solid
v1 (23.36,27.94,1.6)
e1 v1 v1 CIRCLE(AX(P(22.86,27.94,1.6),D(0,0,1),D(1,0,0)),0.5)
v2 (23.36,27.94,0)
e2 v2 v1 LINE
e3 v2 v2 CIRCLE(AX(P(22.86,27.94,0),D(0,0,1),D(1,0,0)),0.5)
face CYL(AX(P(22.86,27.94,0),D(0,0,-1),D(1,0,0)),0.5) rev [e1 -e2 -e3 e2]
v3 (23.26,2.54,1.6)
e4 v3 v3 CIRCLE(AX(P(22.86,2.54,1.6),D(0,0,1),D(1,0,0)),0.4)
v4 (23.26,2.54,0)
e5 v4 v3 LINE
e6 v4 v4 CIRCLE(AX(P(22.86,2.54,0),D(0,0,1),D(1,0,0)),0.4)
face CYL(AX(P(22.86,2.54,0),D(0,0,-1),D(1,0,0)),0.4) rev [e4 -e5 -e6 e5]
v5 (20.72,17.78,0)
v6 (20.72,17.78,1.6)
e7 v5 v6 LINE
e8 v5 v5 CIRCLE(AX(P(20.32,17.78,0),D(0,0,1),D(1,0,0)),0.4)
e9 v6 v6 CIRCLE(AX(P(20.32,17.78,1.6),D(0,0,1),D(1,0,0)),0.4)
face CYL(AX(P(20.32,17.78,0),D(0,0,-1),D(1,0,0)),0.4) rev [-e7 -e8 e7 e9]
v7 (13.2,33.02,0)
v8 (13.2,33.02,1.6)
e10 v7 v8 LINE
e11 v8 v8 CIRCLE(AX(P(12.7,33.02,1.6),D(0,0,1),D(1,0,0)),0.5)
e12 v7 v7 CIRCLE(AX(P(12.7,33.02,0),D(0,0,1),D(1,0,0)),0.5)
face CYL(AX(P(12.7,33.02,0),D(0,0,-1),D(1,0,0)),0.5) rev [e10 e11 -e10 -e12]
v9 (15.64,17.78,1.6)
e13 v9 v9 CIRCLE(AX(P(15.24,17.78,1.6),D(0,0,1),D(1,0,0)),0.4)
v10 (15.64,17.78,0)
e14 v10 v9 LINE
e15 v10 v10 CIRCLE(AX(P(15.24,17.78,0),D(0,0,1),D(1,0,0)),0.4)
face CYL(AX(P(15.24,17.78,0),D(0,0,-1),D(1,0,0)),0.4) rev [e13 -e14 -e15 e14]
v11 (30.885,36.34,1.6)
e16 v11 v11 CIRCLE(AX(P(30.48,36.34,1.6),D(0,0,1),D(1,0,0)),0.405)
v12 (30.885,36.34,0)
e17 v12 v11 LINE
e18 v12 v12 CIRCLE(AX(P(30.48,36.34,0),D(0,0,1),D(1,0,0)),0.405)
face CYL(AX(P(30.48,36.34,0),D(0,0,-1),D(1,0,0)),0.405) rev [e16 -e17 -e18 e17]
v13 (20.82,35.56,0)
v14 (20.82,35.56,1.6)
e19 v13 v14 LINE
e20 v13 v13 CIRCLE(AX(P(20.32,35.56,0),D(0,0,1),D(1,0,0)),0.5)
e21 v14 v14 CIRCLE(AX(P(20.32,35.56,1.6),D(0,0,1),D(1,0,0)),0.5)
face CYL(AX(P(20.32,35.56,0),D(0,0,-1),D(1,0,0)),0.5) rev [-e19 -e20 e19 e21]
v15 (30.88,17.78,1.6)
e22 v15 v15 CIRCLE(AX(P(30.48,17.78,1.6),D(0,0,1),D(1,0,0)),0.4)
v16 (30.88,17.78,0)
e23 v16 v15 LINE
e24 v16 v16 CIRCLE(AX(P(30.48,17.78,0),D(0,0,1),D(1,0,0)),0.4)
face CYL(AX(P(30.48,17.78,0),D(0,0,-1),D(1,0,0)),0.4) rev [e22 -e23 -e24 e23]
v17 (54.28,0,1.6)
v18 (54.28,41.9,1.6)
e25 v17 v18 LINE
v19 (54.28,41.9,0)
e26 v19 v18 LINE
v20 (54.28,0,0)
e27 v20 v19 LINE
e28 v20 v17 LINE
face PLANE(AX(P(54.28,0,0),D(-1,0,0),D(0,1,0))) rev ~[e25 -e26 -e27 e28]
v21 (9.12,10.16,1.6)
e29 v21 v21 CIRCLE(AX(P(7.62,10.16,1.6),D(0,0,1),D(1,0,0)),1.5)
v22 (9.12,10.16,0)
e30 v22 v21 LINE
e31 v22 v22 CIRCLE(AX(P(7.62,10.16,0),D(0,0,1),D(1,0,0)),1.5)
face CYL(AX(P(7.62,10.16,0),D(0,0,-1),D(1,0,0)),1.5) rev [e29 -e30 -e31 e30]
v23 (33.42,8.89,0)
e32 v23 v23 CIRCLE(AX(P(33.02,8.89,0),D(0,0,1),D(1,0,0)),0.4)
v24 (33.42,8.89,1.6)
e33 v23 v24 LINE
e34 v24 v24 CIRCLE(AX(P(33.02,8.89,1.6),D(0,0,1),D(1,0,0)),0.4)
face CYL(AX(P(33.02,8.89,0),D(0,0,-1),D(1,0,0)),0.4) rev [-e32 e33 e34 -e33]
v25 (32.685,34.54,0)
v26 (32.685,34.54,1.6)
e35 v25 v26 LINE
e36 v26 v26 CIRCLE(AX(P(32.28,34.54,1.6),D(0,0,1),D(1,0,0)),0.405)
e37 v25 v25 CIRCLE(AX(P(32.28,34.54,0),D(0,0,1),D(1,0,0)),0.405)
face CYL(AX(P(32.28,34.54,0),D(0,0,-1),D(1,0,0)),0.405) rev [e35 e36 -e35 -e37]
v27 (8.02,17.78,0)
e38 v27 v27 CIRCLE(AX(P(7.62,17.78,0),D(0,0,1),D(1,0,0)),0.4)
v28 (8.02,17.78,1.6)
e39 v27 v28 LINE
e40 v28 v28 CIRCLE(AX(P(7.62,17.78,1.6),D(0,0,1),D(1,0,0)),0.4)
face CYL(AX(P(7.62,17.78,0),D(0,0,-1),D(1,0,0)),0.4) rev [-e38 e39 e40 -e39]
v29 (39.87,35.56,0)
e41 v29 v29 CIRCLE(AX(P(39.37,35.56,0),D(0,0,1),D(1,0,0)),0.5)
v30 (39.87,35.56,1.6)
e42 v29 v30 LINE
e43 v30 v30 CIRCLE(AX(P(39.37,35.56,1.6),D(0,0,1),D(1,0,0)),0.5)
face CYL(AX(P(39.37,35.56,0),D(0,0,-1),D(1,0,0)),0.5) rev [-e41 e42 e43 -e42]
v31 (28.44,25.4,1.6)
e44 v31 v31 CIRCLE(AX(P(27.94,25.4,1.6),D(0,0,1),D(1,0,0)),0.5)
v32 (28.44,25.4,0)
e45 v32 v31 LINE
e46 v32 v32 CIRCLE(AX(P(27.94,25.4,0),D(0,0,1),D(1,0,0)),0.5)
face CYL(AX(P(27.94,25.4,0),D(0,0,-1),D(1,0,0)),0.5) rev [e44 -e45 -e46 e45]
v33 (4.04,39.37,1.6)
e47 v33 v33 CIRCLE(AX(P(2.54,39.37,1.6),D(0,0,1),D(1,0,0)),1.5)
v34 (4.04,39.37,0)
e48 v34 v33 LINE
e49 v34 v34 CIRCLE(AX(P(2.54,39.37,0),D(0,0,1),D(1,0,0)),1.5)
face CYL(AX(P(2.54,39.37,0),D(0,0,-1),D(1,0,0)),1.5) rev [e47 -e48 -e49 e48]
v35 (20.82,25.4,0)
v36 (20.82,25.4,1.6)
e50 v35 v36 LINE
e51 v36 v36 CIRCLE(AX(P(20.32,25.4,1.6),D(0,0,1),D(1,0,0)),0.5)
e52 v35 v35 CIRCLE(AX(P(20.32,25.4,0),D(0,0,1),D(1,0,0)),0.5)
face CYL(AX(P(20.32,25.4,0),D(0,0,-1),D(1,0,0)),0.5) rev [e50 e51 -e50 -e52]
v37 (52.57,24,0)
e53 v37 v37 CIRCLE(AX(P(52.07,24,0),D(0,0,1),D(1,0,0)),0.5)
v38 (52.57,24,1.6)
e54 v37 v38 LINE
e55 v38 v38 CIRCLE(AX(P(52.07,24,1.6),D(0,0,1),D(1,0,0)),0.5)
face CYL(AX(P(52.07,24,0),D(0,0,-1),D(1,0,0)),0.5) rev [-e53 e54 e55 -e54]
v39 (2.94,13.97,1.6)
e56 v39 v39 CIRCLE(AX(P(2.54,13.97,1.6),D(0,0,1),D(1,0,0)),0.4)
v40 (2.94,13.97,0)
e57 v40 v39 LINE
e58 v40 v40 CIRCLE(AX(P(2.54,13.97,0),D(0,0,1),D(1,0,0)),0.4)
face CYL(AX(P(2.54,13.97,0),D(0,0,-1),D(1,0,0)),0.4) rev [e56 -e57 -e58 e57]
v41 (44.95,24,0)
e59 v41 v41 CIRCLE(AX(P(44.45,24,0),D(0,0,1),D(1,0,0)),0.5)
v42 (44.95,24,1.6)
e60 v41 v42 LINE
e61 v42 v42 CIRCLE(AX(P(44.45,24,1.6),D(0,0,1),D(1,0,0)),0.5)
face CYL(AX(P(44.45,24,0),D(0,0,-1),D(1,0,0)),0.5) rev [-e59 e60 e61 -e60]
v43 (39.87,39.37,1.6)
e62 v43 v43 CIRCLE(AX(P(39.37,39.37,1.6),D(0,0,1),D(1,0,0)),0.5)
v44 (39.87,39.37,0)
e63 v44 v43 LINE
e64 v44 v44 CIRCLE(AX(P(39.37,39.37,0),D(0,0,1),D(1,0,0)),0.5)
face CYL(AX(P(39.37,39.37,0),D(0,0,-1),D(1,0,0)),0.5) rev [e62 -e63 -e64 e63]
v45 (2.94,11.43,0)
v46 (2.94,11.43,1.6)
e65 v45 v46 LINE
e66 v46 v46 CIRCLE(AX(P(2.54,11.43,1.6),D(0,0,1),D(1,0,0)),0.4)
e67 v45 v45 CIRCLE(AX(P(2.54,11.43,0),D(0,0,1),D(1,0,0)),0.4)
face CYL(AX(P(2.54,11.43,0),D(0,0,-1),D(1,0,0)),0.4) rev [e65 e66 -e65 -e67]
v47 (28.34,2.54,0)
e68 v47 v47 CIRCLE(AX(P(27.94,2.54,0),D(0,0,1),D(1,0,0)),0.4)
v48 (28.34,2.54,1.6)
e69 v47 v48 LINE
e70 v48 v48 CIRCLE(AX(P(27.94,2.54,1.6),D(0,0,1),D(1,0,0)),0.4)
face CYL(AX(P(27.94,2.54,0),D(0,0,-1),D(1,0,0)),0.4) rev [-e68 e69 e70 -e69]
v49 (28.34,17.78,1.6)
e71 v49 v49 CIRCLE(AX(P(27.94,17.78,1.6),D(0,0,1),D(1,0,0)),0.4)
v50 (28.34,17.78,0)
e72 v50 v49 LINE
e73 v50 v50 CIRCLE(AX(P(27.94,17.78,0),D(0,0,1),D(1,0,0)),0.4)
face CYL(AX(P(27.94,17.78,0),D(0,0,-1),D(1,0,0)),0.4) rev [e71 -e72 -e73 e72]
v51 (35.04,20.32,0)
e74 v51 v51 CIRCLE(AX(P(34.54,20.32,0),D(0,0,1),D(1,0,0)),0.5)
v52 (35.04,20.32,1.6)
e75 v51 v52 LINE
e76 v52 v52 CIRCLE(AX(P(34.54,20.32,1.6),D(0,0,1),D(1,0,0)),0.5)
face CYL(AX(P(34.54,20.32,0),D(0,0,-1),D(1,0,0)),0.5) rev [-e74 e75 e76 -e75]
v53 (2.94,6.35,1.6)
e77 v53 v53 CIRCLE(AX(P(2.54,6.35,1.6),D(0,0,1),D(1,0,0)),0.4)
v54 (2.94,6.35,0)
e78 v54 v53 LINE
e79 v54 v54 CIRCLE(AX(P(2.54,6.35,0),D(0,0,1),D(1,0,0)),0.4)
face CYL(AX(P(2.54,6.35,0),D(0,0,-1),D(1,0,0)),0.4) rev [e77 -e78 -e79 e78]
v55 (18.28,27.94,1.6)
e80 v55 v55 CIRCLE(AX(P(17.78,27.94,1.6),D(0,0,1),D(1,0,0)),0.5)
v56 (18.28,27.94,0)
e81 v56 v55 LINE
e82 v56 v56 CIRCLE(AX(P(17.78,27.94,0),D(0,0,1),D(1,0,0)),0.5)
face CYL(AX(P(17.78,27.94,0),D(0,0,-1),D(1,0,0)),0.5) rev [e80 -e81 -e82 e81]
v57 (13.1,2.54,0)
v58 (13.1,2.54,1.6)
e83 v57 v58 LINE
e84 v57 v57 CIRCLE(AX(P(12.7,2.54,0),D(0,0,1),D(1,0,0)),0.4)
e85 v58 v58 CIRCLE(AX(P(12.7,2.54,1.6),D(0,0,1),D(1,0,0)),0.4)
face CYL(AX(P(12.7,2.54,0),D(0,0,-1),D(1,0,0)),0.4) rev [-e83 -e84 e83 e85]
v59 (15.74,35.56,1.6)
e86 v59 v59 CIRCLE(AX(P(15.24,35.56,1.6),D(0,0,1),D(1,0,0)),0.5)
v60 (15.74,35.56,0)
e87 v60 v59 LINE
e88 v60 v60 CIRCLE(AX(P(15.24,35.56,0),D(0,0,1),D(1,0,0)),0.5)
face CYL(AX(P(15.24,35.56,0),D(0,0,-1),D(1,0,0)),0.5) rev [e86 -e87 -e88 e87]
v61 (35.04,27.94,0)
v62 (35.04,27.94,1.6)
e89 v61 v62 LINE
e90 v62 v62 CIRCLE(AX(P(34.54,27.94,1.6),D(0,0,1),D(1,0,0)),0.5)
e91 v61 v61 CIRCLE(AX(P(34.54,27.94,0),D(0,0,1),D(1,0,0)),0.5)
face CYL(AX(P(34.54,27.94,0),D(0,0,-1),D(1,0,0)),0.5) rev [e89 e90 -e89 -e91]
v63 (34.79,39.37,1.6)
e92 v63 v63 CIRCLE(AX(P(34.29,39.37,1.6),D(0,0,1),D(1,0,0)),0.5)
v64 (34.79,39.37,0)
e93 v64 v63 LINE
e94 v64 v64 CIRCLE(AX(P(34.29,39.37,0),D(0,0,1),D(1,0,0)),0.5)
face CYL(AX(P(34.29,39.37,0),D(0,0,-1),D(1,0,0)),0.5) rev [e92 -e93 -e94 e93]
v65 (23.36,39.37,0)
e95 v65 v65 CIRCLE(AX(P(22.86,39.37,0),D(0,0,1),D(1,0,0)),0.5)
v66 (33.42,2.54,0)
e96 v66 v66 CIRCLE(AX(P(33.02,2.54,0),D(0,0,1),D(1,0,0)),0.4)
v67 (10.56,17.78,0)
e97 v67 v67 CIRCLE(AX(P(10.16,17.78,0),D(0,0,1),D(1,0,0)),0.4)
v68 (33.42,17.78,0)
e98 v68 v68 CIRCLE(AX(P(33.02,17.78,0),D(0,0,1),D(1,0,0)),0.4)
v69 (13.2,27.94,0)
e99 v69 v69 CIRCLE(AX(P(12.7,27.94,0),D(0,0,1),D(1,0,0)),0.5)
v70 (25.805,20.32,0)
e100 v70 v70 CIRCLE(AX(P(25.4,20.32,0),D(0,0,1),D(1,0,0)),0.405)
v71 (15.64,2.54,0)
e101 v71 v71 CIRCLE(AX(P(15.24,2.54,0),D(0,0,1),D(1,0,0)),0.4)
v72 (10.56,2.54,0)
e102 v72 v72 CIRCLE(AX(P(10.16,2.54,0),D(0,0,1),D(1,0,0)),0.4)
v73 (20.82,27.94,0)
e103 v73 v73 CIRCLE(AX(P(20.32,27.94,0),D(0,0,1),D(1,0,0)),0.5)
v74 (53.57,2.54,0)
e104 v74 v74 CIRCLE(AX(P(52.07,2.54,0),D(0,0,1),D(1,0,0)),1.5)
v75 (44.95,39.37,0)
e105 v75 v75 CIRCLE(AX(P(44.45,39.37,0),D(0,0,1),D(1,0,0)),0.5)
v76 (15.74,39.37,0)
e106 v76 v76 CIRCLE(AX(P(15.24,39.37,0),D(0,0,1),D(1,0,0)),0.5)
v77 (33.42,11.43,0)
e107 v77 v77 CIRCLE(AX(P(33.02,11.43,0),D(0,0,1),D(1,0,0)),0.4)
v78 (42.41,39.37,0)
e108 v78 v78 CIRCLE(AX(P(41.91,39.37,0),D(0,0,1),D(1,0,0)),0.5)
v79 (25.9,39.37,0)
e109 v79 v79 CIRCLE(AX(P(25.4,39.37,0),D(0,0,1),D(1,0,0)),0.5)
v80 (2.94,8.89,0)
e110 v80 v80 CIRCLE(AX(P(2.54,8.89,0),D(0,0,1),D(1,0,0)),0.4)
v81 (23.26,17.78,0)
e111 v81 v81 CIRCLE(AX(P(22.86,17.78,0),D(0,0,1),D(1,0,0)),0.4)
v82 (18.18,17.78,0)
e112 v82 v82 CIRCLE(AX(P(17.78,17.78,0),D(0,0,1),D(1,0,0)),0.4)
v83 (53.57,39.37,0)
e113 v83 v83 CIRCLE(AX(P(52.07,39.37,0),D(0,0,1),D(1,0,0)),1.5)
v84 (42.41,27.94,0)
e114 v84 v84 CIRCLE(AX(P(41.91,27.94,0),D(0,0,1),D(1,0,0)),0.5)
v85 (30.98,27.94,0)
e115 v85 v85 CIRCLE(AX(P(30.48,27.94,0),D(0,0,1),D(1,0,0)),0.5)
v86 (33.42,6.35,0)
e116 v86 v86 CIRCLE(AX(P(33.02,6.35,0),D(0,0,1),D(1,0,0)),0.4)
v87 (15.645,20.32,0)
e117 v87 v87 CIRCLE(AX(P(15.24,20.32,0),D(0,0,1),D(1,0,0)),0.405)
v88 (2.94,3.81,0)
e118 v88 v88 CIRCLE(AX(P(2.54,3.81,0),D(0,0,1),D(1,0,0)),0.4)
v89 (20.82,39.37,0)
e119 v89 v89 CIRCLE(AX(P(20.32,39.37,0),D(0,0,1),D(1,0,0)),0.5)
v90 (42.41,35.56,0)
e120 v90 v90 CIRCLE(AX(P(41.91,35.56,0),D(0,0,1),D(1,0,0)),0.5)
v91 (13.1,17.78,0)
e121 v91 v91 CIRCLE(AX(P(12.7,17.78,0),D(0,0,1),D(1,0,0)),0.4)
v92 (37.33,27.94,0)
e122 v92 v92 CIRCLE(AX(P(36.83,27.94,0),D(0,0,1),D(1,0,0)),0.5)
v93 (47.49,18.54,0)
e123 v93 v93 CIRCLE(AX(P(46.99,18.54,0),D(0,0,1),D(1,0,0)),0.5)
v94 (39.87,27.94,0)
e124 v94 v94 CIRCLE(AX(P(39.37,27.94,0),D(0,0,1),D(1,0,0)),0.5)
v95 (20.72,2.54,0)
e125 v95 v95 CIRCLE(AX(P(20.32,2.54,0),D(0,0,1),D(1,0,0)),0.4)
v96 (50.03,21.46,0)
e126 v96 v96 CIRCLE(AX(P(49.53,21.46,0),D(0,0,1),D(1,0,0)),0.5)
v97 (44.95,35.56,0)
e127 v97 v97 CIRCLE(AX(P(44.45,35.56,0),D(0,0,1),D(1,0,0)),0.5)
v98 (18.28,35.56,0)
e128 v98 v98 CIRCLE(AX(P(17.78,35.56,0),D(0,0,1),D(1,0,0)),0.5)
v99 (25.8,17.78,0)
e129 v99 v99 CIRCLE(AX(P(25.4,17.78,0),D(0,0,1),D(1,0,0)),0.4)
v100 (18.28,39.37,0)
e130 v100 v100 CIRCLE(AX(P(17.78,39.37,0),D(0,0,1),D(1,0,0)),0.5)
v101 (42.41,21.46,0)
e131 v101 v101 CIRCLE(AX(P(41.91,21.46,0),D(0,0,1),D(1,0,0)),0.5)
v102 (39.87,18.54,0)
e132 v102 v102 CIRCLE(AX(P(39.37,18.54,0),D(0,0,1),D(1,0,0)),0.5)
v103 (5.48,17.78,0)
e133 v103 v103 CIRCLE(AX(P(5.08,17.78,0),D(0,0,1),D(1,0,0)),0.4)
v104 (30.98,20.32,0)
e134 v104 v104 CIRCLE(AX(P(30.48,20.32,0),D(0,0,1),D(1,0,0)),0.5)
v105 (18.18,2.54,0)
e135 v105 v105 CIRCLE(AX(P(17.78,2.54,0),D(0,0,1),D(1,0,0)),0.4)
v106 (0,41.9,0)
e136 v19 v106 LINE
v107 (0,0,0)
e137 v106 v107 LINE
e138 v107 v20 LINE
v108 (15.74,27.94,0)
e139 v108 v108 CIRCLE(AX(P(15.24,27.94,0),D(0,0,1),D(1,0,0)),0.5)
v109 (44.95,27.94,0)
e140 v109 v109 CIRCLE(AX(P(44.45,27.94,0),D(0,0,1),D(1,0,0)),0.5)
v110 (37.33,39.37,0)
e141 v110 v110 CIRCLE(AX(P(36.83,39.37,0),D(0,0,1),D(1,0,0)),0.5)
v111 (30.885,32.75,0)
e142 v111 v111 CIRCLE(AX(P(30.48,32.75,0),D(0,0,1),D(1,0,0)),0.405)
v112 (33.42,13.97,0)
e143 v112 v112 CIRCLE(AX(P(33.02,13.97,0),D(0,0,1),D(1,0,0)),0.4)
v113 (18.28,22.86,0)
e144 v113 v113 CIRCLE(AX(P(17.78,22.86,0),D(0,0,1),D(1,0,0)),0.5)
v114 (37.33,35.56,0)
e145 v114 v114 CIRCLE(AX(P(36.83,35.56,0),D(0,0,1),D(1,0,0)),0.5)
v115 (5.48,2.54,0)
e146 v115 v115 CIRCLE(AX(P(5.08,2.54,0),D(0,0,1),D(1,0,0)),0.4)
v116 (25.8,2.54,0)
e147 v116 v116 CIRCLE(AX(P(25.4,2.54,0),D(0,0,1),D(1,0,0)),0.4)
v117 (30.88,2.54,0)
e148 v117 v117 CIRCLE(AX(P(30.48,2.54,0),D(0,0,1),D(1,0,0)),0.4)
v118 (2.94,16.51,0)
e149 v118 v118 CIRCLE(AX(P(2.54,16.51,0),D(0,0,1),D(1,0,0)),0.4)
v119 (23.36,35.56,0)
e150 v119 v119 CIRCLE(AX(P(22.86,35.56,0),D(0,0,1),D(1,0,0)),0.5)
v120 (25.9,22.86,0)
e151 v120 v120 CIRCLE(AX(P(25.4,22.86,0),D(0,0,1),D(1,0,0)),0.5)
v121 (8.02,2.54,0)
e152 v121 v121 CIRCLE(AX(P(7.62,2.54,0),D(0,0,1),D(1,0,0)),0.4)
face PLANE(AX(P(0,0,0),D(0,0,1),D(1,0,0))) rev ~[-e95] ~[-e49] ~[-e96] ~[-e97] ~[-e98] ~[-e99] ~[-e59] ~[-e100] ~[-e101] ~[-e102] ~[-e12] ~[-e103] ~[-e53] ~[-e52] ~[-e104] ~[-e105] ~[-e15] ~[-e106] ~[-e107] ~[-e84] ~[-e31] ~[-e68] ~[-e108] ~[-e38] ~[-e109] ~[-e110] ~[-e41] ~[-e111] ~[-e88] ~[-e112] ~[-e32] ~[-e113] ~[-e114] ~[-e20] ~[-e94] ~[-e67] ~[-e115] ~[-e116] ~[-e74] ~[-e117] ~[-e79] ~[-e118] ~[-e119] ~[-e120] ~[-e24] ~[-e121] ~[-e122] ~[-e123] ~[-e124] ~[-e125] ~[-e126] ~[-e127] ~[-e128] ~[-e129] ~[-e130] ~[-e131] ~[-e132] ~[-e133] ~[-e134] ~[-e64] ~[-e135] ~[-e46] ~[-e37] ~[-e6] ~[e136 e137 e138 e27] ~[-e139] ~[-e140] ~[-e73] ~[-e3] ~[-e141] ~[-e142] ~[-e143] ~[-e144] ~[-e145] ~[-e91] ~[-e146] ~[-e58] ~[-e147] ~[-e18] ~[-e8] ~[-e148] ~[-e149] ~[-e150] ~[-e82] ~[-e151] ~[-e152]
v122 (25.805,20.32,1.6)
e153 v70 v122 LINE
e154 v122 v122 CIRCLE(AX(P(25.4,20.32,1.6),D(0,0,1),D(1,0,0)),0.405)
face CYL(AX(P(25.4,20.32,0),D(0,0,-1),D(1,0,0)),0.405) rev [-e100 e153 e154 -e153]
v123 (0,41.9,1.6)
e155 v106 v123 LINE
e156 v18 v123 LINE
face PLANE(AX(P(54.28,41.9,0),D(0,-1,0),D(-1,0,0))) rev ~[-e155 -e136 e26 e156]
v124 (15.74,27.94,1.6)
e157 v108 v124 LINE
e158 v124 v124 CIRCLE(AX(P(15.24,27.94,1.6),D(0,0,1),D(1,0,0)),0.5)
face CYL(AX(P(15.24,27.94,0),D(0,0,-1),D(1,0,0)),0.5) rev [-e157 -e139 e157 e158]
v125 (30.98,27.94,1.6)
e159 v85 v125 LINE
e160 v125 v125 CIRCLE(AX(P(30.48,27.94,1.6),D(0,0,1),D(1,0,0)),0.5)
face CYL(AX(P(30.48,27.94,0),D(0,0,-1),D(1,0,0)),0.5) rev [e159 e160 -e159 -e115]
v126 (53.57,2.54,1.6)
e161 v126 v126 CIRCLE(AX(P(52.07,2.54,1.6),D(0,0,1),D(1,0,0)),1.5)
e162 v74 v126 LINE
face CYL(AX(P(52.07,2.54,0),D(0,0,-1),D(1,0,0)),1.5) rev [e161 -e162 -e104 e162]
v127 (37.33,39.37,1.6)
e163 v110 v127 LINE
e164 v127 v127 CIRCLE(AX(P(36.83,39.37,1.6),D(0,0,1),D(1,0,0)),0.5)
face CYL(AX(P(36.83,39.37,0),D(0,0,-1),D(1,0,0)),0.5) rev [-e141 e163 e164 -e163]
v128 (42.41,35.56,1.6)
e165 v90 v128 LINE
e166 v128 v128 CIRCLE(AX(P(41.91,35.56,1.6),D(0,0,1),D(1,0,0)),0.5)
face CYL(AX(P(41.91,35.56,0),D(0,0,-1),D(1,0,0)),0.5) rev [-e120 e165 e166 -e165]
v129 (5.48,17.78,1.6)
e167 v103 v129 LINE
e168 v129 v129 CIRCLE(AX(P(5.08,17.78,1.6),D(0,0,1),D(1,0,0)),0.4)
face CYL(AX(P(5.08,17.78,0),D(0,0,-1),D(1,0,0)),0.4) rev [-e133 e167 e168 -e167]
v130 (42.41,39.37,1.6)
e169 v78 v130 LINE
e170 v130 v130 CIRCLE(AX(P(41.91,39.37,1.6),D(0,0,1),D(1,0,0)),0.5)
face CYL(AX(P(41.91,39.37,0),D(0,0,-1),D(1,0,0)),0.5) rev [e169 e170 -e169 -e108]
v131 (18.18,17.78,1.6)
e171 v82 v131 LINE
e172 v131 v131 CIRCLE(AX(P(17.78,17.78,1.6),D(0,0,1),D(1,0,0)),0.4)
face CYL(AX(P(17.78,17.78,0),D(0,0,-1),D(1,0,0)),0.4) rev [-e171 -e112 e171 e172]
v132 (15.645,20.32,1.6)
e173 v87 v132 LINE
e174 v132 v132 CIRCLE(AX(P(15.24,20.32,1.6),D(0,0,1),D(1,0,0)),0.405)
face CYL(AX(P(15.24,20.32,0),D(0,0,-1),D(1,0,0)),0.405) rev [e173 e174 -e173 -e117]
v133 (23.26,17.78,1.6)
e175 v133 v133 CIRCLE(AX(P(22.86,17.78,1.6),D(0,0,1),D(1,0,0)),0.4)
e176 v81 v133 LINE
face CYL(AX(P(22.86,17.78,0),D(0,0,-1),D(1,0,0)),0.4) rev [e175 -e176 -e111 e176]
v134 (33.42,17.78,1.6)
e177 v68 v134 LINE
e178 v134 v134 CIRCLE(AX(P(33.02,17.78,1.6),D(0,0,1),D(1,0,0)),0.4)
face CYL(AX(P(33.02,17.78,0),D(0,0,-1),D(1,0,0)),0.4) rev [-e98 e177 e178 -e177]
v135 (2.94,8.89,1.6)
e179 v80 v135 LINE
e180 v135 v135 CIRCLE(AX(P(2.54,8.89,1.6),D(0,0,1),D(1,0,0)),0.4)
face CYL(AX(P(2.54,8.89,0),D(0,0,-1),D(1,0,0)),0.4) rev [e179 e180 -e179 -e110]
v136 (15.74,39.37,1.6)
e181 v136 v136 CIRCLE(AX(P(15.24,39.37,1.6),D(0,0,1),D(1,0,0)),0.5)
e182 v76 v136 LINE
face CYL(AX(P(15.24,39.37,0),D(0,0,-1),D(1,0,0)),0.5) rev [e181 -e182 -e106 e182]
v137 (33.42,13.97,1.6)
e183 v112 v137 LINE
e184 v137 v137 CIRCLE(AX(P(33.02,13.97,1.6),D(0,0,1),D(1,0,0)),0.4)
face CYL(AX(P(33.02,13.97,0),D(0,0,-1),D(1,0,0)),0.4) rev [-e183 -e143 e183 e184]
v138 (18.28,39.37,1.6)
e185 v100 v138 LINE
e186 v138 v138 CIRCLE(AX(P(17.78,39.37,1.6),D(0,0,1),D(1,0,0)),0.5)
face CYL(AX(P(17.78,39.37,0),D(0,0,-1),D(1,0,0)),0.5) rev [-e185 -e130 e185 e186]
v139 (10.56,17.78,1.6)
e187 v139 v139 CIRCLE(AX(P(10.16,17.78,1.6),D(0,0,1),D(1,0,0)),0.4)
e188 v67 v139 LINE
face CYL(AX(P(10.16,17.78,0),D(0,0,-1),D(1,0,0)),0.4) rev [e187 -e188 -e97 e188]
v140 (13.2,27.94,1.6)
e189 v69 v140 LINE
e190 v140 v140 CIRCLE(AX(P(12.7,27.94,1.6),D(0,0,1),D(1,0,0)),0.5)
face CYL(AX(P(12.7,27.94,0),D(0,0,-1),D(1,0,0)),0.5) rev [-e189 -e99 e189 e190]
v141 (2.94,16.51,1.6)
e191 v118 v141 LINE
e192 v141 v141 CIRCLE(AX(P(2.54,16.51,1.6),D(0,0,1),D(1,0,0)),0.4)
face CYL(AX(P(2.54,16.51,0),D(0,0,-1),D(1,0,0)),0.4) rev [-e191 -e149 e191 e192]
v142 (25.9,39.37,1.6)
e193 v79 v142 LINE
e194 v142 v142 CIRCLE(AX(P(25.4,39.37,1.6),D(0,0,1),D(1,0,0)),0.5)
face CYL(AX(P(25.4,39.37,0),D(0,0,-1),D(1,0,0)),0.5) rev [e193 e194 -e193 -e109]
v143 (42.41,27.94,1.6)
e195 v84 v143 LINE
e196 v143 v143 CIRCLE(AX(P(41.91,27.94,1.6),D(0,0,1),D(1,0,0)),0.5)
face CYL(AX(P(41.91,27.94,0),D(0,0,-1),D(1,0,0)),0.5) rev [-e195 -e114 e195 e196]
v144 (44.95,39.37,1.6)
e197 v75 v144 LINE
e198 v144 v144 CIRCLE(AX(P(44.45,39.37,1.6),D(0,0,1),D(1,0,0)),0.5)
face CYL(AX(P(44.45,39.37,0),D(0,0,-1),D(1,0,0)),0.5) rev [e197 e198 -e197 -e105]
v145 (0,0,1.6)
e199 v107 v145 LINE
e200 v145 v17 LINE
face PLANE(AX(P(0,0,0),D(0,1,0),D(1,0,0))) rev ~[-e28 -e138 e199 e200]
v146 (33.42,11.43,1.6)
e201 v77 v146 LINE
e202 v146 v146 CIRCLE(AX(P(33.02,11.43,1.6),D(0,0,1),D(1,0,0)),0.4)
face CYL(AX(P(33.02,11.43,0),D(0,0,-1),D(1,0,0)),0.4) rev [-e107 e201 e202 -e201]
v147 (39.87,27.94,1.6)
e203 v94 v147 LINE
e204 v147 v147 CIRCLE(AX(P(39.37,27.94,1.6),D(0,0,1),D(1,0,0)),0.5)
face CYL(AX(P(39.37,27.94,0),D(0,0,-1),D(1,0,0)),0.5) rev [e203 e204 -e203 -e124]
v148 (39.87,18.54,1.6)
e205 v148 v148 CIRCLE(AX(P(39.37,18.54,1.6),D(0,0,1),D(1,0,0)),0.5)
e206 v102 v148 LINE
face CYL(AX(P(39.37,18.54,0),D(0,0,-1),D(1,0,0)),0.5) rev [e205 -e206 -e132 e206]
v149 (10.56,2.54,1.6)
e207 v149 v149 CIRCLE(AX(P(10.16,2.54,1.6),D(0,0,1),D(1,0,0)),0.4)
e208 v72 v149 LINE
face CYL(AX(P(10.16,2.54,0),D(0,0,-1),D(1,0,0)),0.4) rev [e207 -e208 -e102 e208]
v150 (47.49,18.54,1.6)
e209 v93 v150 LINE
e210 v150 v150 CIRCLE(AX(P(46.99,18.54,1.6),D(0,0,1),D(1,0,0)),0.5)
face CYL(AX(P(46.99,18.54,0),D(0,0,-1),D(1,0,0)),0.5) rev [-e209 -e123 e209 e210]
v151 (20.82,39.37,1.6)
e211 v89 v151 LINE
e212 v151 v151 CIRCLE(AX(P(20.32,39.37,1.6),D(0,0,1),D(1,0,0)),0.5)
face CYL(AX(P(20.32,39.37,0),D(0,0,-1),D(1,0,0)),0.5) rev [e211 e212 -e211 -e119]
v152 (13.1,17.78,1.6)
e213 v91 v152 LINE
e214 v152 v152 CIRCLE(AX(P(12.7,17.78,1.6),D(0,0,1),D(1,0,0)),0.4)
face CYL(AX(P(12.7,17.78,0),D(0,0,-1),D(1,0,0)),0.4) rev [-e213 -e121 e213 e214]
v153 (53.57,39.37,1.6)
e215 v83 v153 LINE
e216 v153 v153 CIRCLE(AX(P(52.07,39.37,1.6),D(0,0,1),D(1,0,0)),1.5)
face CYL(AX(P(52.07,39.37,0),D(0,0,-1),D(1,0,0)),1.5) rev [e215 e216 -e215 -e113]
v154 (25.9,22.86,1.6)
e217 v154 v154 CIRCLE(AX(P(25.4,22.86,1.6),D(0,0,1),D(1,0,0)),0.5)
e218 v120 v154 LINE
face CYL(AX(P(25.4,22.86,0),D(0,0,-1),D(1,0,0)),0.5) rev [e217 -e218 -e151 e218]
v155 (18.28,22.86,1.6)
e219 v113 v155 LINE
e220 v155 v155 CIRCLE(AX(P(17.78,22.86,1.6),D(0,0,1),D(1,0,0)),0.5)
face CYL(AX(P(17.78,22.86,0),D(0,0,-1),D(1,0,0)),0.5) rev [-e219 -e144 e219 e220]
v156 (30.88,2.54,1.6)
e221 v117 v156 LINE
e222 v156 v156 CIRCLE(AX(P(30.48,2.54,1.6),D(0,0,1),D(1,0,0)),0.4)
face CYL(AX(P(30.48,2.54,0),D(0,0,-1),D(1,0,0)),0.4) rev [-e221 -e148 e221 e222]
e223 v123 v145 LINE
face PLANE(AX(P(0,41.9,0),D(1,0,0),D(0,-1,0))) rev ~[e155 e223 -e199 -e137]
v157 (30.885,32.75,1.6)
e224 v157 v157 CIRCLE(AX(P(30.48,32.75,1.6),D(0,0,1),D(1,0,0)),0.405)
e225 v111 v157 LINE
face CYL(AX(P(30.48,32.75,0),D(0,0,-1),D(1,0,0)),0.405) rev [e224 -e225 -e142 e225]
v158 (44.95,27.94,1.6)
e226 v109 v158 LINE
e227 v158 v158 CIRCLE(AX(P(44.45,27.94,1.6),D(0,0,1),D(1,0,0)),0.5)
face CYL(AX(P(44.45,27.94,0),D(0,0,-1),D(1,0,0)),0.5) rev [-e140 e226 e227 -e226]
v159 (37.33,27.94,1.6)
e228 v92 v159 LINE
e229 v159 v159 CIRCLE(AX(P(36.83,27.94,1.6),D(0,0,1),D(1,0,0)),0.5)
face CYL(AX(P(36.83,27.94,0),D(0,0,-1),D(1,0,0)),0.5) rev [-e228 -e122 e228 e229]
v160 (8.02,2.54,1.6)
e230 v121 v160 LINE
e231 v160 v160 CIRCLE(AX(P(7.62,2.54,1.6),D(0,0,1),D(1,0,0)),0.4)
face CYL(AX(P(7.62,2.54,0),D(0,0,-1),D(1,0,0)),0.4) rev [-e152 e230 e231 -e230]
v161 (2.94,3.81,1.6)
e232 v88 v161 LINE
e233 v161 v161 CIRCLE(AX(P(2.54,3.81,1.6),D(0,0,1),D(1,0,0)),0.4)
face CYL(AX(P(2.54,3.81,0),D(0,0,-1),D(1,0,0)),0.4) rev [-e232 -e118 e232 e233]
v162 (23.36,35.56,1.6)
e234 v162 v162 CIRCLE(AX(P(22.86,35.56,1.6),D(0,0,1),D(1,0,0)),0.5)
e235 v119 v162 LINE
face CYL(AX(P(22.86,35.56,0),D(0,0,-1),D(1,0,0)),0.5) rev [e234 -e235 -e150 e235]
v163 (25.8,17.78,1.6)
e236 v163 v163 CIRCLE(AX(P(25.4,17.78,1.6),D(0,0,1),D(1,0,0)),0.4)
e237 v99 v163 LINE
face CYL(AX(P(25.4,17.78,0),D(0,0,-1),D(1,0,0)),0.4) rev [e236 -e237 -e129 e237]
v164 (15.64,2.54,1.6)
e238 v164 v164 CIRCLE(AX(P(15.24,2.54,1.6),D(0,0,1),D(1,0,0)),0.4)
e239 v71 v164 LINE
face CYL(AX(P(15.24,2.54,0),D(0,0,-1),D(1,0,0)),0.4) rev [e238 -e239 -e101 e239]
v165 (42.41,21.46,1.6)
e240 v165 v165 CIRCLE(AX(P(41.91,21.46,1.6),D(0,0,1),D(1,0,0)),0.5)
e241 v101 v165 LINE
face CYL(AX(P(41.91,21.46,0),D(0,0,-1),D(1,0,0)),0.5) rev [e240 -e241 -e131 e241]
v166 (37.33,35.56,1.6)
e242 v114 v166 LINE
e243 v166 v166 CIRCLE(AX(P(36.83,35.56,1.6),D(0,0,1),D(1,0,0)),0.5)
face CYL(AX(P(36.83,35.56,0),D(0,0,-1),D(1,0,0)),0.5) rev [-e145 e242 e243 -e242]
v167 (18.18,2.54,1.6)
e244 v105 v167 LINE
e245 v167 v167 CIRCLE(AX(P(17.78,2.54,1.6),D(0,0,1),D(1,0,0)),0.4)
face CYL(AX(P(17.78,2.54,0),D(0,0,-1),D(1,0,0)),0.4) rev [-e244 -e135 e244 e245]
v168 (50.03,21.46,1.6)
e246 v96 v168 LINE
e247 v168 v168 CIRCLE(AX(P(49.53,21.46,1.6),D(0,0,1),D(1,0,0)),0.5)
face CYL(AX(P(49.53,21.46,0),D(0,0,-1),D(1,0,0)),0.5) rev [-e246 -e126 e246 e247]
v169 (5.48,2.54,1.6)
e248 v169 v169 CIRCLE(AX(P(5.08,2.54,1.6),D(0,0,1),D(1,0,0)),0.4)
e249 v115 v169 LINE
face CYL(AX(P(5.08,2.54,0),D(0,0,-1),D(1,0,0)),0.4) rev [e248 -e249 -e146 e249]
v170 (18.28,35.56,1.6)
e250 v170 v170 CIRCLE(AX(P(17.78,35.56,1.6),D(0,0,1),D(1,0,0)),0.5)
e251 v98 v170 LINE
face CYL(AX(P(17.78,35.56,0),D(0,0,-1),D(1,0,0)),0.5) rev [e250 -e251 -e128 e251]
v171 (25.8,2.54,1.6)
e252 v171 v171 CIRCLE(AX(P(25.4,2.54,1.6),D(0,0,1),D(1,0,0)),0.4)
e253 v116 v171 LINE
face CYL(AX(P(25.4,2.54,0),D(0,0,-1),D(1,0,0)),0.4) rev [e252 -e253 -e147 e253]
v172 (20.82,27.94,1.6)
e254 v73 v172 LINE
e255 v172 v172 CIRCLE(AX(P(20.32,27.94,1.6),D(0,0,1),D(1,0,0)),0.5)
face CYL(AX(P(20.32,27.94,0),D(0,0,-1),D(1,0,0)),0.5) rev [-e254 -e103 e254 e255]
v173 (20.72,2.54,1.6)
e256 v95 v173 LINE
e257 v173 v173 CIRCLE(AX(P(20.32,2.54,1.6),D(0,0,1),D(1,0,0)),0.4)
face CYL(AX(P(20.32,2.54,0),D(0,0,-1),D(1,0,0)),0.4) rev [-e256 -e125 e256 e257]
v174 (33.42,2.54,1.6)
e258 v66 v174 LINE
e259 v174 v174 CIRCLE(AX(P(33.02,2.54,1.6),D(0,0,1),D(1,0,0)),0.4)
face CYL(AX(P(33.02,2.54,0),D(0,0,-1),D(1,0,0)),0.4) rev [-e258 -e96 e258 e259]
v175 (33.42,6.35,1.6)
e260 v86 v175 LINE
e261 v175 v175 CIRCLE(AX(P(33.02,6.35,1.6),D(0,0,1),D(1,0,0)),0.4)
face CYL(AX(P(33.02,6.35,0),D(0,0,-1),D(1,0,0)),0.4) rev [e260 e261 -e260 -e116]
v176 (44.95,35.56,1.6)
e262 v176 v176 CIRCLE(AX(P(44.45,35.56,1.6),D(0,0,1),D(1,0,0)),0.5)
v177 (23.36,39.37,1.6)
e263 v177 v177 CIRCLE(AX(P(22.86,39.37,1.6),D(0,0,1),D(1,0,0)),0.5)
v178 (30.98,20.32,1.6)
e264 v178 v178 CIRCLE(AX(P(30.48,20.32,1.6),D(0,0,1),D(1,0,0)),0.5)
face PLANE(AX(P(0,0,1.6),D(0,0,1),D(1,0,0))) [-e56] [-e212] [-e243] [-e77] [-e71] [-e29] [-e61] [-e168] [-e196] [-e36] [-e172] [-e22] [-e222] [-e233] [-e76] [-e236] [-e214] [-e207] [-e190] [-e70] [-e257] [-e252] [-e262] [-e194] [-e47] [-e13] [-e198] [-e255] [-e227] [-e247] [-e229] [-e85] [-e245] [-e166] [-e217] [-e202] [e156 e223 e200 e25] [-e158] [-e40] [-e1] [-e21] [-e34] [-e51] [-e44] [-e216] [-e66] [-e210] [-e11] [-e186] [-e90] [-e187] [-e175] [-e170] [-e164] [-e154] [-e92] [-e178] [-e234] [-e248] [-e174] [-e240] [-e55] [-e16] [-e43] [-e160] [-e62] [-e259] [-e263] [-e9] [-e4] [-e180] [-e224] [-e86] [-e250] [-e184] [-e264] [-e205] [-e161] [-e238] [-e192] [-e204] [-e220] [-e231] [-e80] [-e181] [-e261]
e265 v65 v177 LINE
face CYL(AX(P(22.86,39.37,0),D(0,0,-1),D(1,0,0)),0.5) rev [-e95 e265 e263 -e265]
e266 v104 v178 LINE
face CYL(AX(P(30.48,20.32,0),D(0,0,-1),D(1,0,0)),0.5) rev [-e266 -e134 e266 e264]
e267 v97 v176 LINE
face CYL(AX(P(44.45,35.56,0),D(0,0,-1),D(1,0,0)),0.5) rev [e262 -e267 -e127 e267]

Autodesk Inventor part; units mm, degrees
ref_plane "YZ Plane" through (0, 0, 0) normal (1, 0, 0) x (0, 1, 0)
ref_plane "XZ Plane" through (0, 0, 0) normal (0, 1, 0) x (-1, 0, 0)
ref_plane "XY Plane" through (0, 0, 0) normal (0, 0, 1) x (1, 0, 0)
sketch "Эскиз1" plane through (0, 0, 0) normal (0, 0, 1) x (1, 0, 0)
  line L0 (0, 0) -> (54.28, 0)
  line L1 (54.28, 0) -> (54.28, 41.9)
  line L2 (54.28, 41.9) -> (0, 41.9)
  line L3 (0, 41.9) -> (0, 0)
  circle A0 centre (15.24, 39.37) radius 0.5
  circle A1 centre (17.78, 39.37) radius 0.5
  circle A2 centre (20.32, 39.37) radius 0.5
  circle A3 centre (22.86, 39.37) radius 0.5
  circle A4 centre (25.4, 39.37) radius 0.5
  circle A5 centre (34.29, 39.37) radius 0.5
  circle A6 centre (36.83, 39.37) radius 0.5
  circle A7 centre (39.37, 39.37) radius 0.5
  circle A8 centre (41.91, 39.37) radius 0.5
  circle A9 centre (44.45, 39.37) radius 0.5
  circle A10 centre (30.48, 32.75) radius 0.405
  circle A11 centre (32.28, 34.54) radius 0.405
  circle A12 centre (30.48, 36.34) radius 0.405
  circle A13 centre (44.45, 24) radius 0.5
  circle A14 centre (52.07, 24) radius 0.5
  circle A15 centre (41.91, 21.46) radius 0.5
  circle A16 centre (49.53, 21.46) radius 0.5
  circle A17 centre (39.37, 18.54) radius 0.5
  circle A18 centre (46.99, 18.54) radius 0.5
  circle A19 centre (34.54, 20.32) radius 0.5
  circle A20 centre (34.54, 27.94) radius 0.5
  circle A21 centre (44.45, 35.56) radius 0.5
  circle A22 centre (44.45, 27.94) radius 0.5
  circle A23 centre (41.91, 35.56) radius 0.5
  circle A24 centre (41.91, 27.94) radius 0.5
  circle A25 centre (39.37, 35.56) radius 0.5
  circle A26 centre (39.37, 27.94) radius 0.5
  circle A27 centre (36.83, 35.56) radius 0.5
  circle A28 centre (36.83, 27.94) radius 0.5
  circle A29 centre (30.48, 27.94) radius 0.5
  circle A30 centre (30.48, 20.32) radius 0.5
  circle A31 centre (20.32, 25.4) radius 0.5
  circle A32 centre (27.94, 25.4) radius 0.5
  circle A33 centre (17.78, 22.86) radius 0.5
  circle A34 centre (25.4, 22.86) radius 0.5
  circle A35 centre (15.24, 20.32) radius 0.405
  circle A36 centre (25.4, 20.32) radius 0.405
  circle A37 centre (22.86, 35.56) radius 0.5
  circle A38 centre (22.86, 27.94) radius 0.5
  circle A39 centre (20.32, 35.56) radius 0.5
  circle A40 centre (20.32, 27.94) radius 0.5
  circle A41 centre (17.78, 35.56) radius 0.5
  circle A42 centre (17.78, 27.94) radius 0.5
  circle A43 centre (15.24, 35.56) radius 0.5
  circle A44 centre (15.24, 27.94) radius 0.5
  circle A45 centre (22.86, 17.78) radius 0.4
  circle A46 centre (20.32, 17.78) radius 0.4
  circle A47 centre (17.78, 17.78) radius 0.4
  circle A48 centre (15.24, 17.78) radius 0.4
  circle A49 centre (33.02, 6.35) radius 0.4
  circle A50 centre (33.02, 8.89) radius 0.4
  circle A51 centre (33.02, 11.43) radius 0.4
  circle A52 centre (33.02, 13.97) radius 0.4
  circle A53 centre (15.24, 2.54) radius 0.4
  circle A54 centre (17.78, 2.54) radius 0.4
  circle A55 centre (20.32, 2.54) radius 0.4
  circle A56 centre (22.86, 2.54) radius 0.4
  circle A57 centre (25.4, 2.54) radius 0.4
  circle A58 centre (27.94, 2.54) radius 0.4
  circle A59 centre (30.48, 2.54) radius 0.4
  circle A60 centre (33.02, 2.54) radius 0.4
  circle A61 centre (33.02, 17.78) radius 0.4
  circle A62 centre (30.48, 17.78) radius 0.4
  circle A63 centre (27.94, 17.78) radius 0.4
  circle A64 centre (25.4, 17.78) radius 0.4
  circle A65 centre (2.54, 16.51) radius 0.4
  circle A66 centre (7.62, 17.78) radius 0.4
  circle A67 centre (12.7, 2.54) radius 0.4
  circle A68 centre (2.54, 3.81) radius 0.4
  circle A69 centre (2.54, 6.35) radius 0.4
  circle A70 centre (5.08, 17.78) radius 0.4
  circle A71 centre (10.16, 17.78) radius 0.4
  circle A72 centre (10.16, 2.54) radius 0.4
  circle A73 centre (7.62, 2.54) radius 0.4
  circle A74 centre (2.54, 11.43) radius 0.4
  circle A75 centre (5.08, 2.54) radius 0.4
  circle A76 centre (2.54, 13.97) radius 0.4
  circle A77 centre (12.7, 17.78) radius 0.4
  circle A78 centre (2.54, 8.89) radius 0.4
  circle A79 centre (2.54, 39.37) radius 1.5
  circle A80 centre (52.07, 39.37) radius 1.5
  circle A81 centre (52.07, 2.54) radius 1.5
  circle A82 centre (7.62, 10.16) radius 1.5
  circle A83 centre (12.7, 33.02) radius 0.5
  circle A84 centre (12.7, 27.94) radius 0.5
extrude "BATTERIES_CONTROLLER.brdКонтур" add sketch "Эскиз1" along normal blind 1.6
properties part number "BATTERIES_CONTROLLER.brdКонтур"
